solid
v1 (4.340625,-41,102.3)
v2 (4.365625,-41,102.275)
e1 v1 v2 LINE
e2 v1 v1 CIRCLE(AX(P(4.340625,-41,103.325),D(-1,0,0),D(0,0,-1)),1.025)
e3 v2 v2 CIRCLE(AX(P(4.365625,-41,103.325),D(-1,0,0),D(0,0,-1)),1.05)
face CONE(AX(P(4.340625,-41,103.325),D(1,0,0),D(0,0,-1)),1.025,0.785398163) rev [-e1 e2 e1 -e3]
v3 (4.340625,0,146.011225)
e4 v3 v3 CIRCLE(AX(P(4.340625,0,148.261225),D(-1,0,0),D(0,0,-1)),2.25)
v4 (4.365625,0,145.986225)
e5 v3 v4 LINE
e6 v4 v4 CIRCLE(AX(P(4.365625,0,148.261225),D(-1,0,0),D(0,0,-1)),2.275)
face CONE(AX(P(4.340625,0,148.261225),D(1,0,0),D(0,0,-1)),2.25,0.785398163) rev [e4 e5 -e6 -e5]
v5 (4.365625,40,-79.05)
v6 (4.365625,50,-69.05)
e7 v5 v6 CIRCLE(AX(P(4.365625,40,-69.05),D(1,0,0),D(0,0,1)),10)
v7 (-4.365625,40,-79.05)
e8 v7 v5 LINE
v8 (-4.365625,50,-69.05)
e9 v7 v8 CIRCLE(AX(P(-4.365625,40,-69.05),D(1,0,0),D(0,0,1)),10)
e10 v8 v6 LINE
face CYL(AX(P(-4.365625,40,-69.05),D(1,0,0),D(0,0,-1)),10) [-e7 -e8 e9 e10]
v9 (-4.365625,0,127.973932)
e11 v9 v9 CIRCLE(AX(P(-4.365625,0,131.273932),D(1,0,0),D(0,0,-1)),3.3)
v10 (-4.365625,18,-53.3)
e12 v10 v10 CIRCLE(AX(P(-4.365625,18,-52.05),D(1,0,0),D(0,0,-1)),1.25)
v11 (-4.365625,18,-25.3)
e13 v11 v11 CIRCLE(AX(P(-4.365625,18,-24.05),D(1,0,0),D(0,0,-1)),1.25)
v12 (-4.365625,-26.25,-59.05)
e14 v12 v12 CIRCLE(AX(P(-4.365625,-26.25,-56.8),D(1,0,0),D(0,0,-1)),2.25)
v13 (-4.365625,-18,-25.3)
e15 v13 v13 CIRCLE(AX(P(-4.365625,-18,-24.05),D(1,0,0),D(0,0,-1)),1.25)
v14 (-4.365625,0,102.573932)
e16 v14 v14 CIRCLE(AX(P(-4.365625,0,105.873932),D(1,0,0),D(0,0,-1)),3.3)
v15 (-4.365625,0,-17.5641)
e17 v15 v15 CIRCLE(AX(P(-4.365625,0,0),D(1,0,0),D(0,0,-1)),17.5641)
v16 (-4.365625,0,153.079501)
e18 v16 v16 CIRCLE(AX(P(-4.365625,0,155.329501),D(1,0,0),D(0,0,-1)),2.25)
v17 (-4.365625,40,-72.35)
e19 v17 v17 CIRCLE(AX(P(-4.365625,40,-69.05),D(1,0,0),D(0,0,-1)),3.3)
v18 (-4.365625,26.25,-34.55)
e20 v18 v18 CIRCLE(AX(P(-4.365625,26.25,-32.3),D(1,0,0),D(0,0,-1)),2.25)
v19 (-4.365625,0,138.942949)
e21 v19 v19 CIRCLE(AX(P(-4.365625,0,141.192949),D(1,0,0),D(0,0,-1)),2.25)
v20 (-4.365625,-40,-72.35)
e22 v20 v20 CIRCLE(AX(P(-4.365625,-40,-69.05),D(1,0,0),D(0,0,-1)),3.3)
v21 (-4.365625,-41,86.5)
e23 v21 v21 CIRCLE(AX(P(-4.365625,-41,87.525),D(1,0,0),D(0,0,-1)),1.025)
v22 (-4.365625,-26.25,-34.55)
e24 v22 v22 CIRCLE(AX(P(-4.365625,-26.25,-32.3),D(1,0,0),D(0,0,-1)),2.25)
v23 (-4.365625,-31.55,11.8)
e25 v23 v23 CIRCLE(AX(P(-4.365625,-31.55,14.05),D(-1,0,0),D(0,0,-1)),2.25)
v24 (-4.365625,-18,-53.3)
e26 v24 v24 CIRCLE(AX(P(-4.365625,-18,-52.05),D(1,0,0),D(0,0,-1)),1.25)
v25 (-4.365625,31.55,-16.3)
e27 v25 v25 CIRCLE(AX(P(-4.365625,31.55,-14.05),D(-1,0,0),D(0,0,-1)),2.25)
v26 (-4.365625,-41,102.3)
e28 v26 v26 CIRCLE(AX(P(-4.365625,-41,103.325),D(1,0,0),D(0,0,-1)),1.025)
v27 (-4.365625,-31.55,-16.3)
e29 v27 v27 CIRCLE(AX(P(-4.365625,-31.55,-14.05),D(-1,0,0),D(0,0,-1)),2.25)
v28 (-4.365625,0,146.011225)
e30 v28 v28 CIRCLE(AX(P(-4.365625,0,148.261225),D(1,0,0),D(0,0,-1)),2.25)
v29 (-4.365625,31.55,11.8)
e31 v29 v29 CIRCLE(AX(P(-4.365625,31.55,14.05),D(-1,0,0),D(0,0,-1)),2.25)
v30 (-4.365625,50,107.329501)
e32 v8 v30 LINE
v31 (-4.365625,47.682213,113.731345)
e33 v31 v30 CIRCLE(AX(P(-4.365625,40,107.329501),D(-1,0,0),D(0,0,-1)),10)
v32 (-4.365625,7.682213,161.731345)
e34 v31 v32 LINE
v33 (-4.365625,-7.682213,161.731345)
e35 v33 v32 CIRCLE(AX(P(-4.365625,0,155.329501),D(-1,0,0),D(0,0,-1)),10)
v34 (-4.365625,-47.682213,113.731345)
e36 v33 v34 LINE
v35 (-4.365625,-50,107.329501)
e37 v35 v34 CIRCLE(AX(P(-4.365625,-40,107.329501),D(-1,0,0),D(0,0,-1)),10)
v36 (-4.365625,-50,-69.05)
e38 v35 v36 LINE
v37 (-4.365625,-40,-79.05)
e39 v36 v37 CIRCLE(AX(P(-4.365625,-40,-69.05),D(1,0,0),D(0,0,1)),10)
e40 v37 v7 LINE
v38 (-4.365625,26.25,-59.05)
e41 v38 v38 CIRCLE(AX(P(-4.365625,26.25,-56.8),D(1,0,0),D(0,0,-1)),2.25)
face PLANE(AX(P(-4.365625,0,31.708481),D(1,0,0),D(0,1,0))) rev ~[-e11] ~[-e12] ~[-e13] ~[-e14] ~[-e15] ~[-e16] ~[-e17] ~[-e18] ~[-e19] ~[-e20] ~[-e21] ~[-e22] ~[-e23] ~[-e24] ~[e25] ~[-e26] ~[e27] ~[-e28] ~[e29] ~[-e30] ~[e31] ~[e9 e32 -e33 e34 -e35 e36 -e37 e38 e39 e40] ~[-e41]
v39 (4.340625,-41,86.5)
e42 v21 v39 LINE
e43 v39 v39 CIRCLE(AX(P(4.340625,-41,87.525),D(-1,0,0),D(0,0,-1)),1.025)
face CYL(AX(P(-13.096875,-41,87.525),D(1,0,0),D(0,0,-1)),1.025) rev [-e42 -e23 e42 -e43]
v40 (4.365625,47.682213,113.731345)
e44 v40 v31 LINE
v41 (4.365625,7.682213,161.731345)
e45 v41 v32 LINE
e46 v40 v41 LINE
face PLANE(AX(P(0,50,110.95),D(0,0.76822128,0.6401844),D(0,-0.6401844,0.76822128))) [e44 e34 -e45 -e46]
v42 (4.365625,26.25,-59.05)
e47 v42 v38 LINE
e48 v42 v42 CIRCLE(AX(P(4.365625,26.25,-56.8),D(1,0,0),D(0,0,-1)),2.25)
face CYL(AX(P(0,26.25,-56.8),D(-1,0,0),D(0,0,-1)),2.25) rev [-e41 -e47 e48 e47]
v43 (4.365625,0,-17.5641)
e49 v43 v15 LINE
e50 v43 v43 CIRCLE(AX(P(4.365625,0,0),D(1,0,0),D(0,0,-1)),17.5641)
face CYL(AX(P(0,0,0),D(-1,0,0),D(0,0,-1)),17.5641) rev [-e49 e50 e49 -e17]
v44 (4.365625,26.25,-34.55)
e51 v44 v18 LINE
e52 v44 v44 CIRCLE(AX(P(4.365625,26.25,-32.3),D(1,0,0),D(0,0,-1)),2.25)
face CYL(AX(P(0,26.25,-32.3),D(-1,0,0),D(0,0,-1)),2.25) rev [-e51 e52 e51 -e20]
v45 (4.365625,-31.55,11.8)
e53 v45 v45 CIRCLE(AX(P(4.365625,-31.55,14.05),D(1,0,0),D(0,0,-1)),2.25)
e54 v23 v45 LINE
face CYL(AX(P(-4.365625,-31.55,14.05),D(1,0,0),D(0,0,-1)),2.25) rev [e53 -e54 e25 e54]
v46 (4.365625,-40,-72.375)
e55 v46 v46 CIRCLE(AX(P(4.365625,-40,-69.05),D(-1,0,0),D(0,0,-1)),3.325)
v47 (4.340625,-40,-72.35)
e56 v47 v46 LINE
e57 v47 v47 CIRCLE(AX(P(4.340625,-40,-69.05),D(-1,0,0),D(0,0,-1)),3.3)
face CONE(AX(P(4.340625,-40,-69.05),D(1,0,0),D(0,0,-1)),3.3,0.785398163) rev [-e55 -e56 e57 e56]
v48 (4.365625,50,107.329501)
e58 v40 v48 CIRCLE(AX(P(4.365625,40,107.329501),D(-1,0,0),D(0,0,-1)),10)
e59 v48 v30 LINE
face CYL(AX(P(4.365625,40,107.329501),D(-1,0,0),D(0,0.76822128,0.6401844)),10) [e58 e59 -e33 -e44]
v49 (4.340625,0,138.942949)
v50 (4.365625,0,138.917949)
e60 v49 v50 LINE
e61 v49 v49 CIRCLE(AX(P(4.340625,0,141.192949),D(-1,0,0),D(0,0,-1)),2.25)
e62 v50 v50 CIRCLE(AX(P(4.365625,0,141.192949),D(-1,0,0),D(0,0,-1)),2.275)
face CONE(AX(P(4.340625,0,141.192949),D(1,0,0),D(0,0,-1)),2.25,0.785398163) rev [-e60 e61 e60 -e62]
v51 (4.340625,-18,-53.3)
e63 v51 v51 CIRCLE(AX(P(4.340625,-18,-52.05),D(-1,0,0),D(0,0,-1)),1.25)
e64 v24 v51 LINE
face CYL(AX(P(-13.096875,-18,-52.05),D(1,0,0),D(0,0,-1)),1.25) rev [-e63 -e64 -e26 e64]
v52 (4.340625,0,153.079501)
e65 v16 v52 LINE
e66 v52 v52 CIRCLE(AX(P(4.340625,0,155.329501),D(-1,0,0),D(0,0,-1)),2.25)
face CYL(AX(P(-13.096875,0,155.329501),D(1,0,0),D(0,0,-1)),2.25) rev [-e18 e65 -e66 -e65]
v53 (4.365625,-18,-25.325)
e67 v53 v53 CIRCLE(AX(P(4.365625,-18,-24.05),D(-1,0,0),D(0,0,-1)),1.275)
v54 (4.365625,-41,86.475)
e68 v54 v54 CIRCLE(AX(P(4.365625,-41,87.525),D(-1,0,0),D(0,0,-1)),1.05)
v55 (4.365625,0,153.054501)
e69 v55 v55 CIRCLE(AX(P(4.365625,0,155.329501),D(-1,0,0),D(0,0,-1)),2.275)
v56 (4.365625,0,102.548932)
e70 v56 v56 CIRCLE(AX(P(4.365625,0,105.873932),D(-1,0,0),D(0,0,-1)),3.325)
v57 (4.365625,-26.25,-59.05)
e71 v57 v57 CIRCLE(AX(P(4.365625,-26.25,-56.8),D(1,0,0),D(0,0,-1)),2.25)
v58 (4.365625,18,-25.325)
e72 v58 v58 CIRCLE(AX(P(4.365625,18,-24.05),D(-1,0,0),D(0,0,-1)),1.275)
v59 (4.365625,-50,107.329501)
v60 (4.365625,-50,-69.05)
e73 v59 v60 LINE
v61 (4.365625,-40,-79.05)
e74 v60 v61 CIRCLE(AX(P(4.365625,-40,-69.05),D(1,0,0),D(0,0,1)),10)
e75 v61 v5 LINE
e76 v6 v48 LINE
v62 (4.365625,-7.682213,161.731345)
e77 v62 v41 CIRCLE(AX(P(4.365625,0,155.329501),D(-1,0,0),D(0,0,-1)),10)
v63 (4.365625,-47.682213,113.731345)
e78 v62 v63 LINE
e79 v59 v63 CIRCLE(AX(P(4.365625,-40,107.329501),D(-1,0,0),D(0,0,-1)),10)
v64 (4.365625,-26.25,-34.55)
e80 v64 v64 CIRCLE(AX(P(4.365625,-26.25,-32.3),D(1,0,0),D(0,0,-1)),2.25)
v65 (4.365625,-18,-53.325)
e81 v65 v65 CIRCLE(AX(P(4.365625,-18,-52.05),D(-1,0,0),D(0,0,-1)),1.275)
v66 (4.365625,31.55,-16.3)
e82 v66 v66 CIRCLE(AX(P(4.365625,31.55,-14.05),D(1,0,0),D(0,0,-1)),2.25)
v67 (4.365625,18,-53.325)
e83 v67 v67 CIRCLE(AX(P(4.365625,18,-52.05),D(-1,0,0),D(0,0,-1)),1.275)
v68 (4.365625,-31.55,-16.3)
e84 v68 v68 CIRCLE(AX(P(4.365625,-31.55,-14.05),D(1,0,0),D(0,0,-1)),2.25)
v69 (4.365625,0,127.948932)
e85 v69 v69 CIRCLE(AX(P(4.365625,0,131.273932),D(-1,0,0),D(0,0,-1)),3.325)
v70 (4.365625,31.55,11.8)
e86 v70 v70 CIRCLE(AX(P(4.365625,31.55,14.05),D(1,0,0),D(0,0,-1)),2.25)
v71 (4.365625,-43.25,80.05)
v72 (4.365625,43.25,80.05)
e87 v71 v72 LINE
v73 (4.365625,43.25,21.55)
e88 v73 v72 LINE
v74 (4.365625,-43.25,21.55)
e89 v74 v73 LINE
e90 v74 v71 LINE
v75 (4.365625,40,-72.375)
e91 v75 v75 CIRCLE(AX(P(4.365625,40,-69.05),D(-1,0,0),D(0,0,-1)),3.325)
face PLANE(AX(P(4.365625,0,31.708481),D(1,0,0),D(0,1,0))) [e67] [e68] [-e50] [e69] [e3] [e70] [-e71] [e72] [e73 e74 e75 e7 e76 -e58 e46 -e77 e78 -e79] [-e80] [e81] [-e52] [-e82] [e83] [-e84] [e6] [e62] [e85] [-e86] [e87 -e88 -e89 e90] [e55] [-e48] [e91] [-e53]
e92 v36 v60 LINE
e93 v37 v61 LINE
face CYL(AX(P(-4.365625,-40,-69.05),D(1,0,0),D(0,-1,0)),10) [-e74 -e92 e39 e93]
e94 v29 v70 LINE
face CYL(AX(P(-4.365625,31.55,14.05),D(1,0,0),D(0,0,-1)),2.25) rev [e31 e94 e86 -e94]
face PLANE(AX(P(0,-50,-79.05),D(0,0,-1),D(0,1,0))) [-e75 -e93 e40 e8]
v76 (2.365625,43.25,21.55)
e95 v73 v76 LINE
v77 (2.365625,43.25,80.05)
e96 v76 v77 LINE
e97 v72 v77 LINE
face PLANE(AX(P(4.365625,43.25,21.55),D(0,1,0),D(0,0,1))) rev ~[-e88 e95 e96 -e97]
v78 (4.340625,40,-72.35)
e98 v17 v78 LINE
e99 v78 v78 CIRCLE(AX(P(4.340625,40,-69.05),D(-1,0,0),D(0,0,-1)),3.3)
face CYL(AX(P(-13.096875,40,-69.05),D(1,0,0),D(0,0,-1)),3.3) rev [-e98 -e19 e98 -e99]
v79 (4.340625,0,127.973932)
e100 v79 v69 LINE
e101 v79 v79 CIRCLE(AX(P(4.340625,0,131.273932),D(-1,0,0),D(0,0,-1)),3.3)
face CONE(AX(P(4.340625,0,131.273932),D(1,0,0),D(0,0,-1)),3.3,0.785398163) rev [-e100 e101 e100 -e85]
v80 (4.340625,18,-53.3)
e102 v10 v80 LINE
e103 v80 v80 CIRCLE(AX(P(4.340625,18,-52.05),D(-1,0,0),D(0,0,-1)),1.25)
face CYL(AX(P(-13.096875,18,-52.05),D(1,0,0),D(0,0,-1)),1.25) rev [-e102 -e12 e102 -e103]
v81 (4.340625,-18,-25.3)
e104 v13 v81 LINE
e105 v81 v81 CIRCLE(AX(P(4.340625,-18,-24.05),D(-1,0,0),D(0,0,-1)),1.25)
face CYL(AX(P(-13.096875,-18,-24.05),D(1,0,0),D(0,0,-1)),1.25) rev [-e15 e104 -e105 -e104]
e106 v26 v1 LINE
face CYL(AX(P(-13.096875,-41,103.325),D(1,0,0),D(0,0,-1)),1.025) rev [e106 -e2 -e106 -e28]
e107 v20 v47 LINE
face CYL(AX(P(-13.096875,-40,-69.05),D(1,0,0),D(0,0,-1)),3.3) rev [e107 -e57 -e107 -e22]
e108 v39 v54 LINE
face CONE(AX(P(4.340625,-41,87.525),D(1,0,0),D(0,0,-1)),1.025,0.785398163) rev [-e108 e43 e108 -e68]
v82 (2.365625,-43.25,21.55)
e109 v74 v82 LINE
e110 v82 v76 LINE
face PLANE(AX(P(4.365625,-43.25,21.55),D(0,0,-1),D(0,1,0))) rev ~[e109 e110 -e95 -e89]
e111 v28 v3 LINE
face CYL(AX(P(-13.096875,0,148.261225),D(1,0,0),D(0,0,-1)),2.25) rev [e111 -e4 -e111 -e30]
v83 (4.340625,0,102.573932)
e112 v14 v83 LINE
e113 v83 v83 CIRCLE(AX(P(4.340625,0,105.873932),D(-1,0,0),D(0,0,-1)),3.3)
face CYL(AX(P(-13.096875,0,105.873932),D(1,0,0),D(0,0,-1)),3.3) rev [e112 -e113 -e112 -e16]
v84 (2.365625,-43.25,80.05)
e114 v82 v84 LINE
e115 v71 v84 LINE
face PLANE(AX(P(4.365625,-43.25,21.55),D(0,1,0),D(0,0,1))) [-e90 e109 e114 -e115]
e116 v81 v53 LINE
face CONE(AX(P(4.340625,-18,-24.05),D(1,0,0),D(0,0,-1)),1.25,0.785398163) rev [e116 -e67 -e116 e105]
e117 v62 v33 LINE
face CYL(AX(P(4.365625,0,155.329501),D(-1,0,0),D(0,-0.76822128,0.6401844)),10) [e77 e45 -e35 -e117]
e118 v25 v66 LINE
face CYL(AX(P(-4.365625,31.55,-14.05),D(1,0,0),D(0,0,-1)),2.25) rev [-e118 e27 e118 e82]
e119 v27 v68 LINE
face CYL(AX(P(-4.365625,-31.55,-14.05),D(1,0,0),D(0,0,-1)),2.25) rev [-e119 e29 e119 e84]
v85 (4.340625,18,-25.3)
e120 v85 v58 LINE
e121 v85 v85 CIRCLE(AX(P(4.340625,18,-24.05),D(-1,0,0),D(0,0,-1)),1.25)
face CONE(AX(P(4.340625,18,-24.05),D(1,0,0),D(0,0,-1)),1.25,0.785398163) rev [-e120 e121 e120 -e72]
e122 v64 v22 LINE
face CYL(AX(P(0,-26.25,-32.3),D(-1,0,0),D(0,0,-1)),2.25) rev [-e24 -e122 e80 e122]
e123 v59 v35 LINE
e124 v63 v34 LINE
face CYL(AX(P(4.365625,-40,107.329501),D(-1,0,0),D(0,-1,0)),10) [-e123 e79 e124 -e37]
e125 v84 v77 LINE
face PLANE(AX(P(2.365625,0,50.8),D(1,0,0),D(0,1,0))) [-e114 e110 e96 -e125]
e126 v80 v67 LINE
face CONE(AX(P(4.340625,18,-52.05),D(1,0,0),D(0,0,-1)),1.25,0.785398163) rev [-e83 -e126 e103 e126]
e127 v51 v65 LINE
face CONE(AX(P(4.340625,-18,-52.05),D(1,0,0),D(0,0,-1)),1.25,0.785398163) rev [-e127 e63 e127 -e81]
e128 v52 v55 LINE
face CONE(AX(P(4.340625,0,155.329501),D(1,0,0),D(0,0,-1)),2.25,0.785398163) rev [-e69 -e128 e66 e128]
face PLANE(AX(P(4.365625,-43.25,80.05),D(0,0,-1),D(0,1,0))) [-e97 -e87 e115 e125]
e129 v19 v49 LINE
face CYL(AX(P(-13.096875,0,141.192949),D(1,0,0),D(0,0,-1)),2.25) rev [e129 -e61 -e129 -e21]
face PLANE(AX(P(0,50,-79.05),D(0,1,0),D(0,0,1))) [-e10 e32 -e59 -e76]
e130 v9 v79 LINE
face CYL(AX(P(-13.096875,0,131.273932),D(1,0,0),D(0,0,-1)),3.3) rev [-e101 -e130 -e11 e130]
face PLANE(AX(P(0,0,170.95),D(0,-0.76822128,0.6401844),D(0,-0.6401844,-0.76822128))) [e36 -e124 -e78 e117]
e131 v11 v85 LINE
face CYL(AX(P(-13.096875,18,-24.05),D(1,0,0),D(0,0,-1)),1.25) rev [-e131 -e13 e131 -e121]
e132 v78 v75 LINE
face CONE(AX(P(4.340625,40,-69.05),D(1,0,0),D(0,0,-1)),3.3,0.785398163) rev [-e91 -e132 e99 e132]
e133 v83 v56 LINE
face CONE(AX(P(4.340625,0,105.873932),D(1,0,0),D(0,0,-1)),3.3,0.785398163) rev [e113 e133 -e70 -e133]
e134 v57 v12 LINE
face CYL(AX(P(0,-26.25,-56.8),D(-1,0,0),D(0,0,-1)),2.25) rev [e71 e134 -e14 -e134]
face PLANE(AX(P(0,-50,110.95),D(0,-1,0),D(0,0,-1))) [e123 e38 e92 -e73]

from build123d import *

# Parameters (mm, degrees)
SKETCH1_R                               = 2.25
SKETCH1_R_2                             = 17.5641
BOSS_EXTRUDE1_DEPTH                     = 4.365625
SKETCH2_W                               = 78.1
SKETCH2_H                               = 43.1
BOSS_EXTRUDE2_DEPTH                     = 8.73125
M4_CLEARANCE_HOLE2_AT_2_COUNT           = 2
M4_CLEARANCE_HOLE2_AT_2_PITCH           = 28.1
M4_CLEARANCE_HOLE2_AT_3_COUNT           = 2
M4_CLEARANCE_HOLE2_AT_3_PITCH           = 69.07401827
M4_CLEARANCE_HOLE2_AT_4_COUNT           = 2
M4_CLEARANCE_HOLE2_AT_4_PITCH           = 63.1
SKETCH24_W                              = 78.1
SKETCH24_H                              = 43.1
BOSS_EXTRUDE3_DEPTH                     = 8.73125
TAP_DRILL_FOR_M4X0_7_TAP1_AT_2_COUNT    = 2
TAP_DRILL_FOR_M4X0_7_TAP1_AT_2_PITCH    = 28.1
TAP_DRILL_FOR_M4X0_7_TAP1_AT_3_COUNT    = 2
TAP_DRILL_FOR_M4X0_7_TAP1_AT_3_PITCH    = 69.07401827
TAP_DRILL_FOR_M4X0_7_TAP1_AT_4_COUNT    = 2
TAP_DRILL_FOR_M4X0_7_TAP1_AT_4_PITCH    = 63.1
TAP_DRILL_FOR_M3X0_5_TAP1_AT_2_COUNT    = 2
TAP_DRILL_FOR_M3X0_5_TAP1_AT_2_PITCH    = 36
TAP_DRILL_FOR_M3X0_5_TAP1_AT_3_COUNT    = 2
TAP_DRILL_FOR_M3X0_5_TAP1_AT_3_PITCH    = 28
TAP_DRILL_FOR_M3X0_5_TAP1_AT_4_COUNT    = 2
TAP_DRILL_FOR_M3X0_5_TAP1_AT_4_PITCH    = 45.607017004
TAP_DRILL_FOR_M2_5X0_45_TAP2_AT_2_COUNT = 2
TAP_DRILL_FOR_M2_5X0_45_TAP2_AT_2_PITCH = 15.8
SKETCH3_R                               = 17.5641
CUT_EXTRUDE3_DEPTH                      = 181.027817403
M6_CLEARANCE_HOLE2_AT_2_COUNT           = 2
M6_CLEARANCE_HOLE2_AT_2_PITCH           = 80
SKETCH14_W                              = 86.5
SKETCH14_H                              = 58.5
CUT_EXTRUDE4_DEPTH                      = 2
FILLET4_R                               = 10
M4_CLEARANCE_HOLE1_AT_2_COUNT           = 2
M4_CLEARANCE_HOLE1_AT_2_PITCH           = 14.136551913
M4_CLEARANCE_HOLE1_AT_3_COUNT           = 2
M4_CLEARANCE_HOLE1_AT_3_PITCH           = 7.068275957
M6_CLEARANCE_HOLE1_AT_2_COUNT           = 2
M6_CLEARANCE_HOLE1_AT_2_PITCH           = 25.4
FILLET5_R                               = 5
FILLET6_R                               = 5
SKETCH28_W                              = 15.5
SKETCH28_H                              = 20.75
SKETCH28_R                              = 1.5
BOSS_EXTRUDE4_DEPTH                     = 2.5
FILLET7_R                               = 1
SKETCH29_R                              = 1.5
BOSS_EXTRUDE5_DEPTH                     = 1.5
FILLET8_R                               = 0.5


with BuildPart() as part:
    # Sketch1 → Boss-Extrude1 (new, symmetric)
    with BuildSketch(Plane.YZ):
        Polygon((0, 170.95), (-50, 110.95), (-50, -79.05), (50, -79.05), (50, 110.95), align=None)
        with Locations((-26.25, -56.8)):
            Circle(SKETCH1_R, mode=Mode.SUBTRACT)
        with Locations((-26.25, -32.3)):
            Circle(SKETCH1_R, mode=Mode.SUBTRACT)
        with Locations((26.25, -56.8)):
            Circle(SKETCH1_R, mode=Mode.SUBTRACT)
        with Locations((26.25, -32.3)):
            Circle(SKETCH1_R, mode=Mode.SUBTRACT)
        Circle(SKETCH1_R_2, mode=Mode.SUBTRACT)
    extrude(amount=BOSS_EXTRUDE1_DEPTH, both=True)


with BuildPart() as body_2:
    # Sketch2 → Boss-Extrude2 (new body)
    with BuildSketch(Plane.YZ.offset(4.365625)):
        Rectangle(SKETCH2_W, SKETCH2_H)
    extrude(amount=BOSS_EXTRUDE2_DEPTH)


with BuildPart() as m4_clearance_hole2_tool:
    # Sketch23 → M4 Clearance Hole2 (revolve)
    with BuildSketch(Plane(origin=(13.096875, -31.55, 14.05), x_dir=(0, 0, -1), z_dir=(0, 1, 0))):
        Polygon((0, 0), (0, 17.4625), (2.25, 17.4625), (2.25, 0.025), (2.275, 0), align=None)
    m4_clearance_hole2 = revolve(axis=Axis((19.446875, -31.55, 14.05), (-1, 0, 0)))


with BuildPart() as part_1:
    add(part.part)

    # M4 Clearance Hole2: cut by m4_clearance_hole2_tool
    add(m4_clearance_hole2_tool.part, mode=Mode.SUBTRACT)


with BuildPart() as body_2_1:
    add(body_2.part)

    # M4 Clearance Hole2: cut by m4_clearance_hole2_tool
    add(m4_clearance_hole2_tool.part, mode=Mode.SUBTRACT)


with BuildPart() as m4_clearance_hole2_at_2_tool:
    # M4 Clearance Hole2 at 2: M4 Clearance Hole2 ×2
    with Locations(*[(0, 0, -i * M4_CLEARANCE_HOLE2_AT_2_PITCH) for i in range(1, M4_CLEARANCE_HOLE2_AT_2_COUNT)]):
        add(m4_clearance_hole2)


with BuildPart() as part_2:
    add(part_1.part)

    # M4 Clearance Hole2 at 2: cut by m4_clearance_hole2_at_2_tool
    add(m4_clearance_hole2_at_2_tool.part, mode=Mode.SUBTRACT)


with BuildPart() as body_2_2:
    add(body_2_1.part)

    # M4 Clearance Hole2 at 2: cut by m4_clearance_hole2_at_2_tool
    add(m4_clearance_hole2_at_2_tool.part, mode=Mode.SUBTRACT)


with BuildPart() as m4_clearance_hole2_at_3_tool:
    # M4 Clearance Hole2 at 3: M4 Clearance Hole2 ×2
    with Locations(*[Vector(0, 0.9135128023552276, -0.40680998012966574) * (i * M4_CLEARANCE_HOLE2_AT_3_PITCH) for i in range(1, M4_CLEARANCE_HOLE2_AT_3_COUNT)]):
        add(m4_clearance_hole2)


with BuildPart() as part_3:
    add(part_2.part)

    # M4 Clearance Hole2 at 3: cut by m4_clearance_hole2_at_3_tool
    add(m4_clearance_hole2_at_3_tool.part, mode=Mode.SUBTRACT)


with BuildPart() as body_2_3:
    add(body_2_2.part)

    # M4 Clearance Hole2 at 3: cut by m4_clearance_hole2_at_3_tool
    add(m4_clearance_hole2_at_3_tool.part, mode=Mode.SUBTRACT)


with BuildPart() as m4_clearance_hole2_at_4_tool:
    # M4 Clearance Hole2 at 4: M4 Clearance Hole2 ×2
    with Locations(*[(0, i * M4_CLEARANCE_HOLE2_AT_4_PITCH, 0) for i in range(1, M4_CLEARANCE_HOLE2_AT_4_COUNT)]):
        add(m4_clearance_hole2)


with BuildPart() as part_4:
    add(part_3.part)

    # M4 Clearance Hole2 at 4: cut by m4_clearance_hole2_at_4_tool
    add(m4_clearance_hole2_at_4_tool.part, mode=Mode.SUBTRACT)

    # Sketch7 → Tap Drill for M3x0.5 Tap1 (revolve, cut)
    with BuildSketch(Plane(origin=(4.365625, -18, -24.05), x_dir=(0, 0, -1), z_dir=(0, 1, 0))):
        Polygon((0, 0), (0, 17.4625), (1.25, 17.4625), (1.25, 0.025), (1.275, 0), align=None)
    tap_drill_for_m3x0_5_tap1 = revolve(axis=Axis((10.715625, -18, -24.05), (-1, 0, 0)), mode=Mode.SUBTRACT)

    # Tap Drill for M3x0.5 Tap1 at 2: Tap Drill for M3x0.5 Tap1 ×2
    with Locations(*[(0, i * TAP_DRILL_FOR_M3X0_5_TAP1_AT_2_PITCH, 0) for i in range(1, TAP_DRILL_FOR_M3X0_5_TAP1_AT_2_COUNT)]):
        add(tap_drill_for_m3x0_5_tap1, mode=Mode.SUBTRACT)

    # Tap Drill for M3x0.5 Tap1 at 3: Tap Drill for M3x0.5 Tap1 ×2
    with Locations(*[(0, 0, -i * TAP_DRILL_FOR_M3X0_5_TAP1_AT_3_PITCH) for i in range(1, TAP_DRILL_FOR_M3X0_5_TAP1_AT_3_COUNT)]):
        add(tap_drill_for_m3x0_5_tap1, mode=Mode.SUBTRACT)

    # Tap Drill for M3x0.5 Tap1 at 4: Tap Drill for M3x0.5 Tap1 ×2
    with Locations(*[Vector(0, 0.7893522173763264, -0.6139406135149205) * (i * TAP_DRILL_FOR_M3X0_5_TAP1_AT_4_PITCH) for i in range(1, TAP_DRILL_FOR_M3X0_5_TAP1_AT_4_COUNT)]):
        add(tap_drill_for_m3x0_5_tap1, mode=Mode.SUBTRACT)

    # Sketch10 → Tap Drill for M2.5x0.45 Tap2 (revolve, cut)
    with BuildSketch(Plane(origin=(4.365625, -41, 103.325), x_dir=(0, 0, -1), z_dir=(0, 1, 0))):
        Polygon((0, 0), (0, 17.4625), (1.025, 17.4625), (1.025, 0.025), (1.05, 0), align=None)
    tap_drill_for_m2_5x0_45_tap2 = revolve(axis=Axis((10.715625, -41, 103.325), (-1, 0, 0)), mode=Mode.SUBTRACT)

    # Tap Drill for M2.5x0.45 Tap2 at 2: Tap Drill for M2.5x0.45 Tap2 ×2
    with Locations(*[(0, 0, -i * TAP_DRILL_FOR_M2_5X0_45_TAP2_AT_2_PITCH) for i in range(1, TAP_DRILL_FOR_M2_5X0_45_TAP2_AT_2_COUNT)]):
        add(tap_drill_for_m2_5x0_45_tap2, mode=Mode.SUBTRACT)

    # Sketch12 → M6 Clearance Hole2 (revolve, cut)
    with BuildSketch(Plane(origin=(4.365625, -40, -69.05), x_dir=(0, 0, -1), z_dir=(0, 1, 0))):
        Polygon((0, 0), (0, 17.4625), (3.3, 17.4625), (3.3, 0.025), (3.325, 0), align=None)
    m6_clearance_hole2 = revolve(axis=Axis((10.715625, -40, -69.05), (-1, 0, 0)), mode=Mode.SUBTRACT)

    # M6 Clearance Hole2 at 2: M6 Clearance Hole2 ×2
    with Locations(*[(0, i * M6_CLEARANCE_HOLE2_AT_2_PITCH, 0) for i in range(1, M6_CLEARANCE_HOLE2_AT_2_COUNT)]):
        add(m6_clearance_hole2, mode=Mode.SUBTRACT)

    # Sketch14 → Cut-Extrude4 (cut)
    with BuildSketch(Plane.YZ.offset(4.365625)):
        with Locations((0, 50.8)):
            Rectangle(SKETCH14_W, SKETCH14_H)
    extrude(amount=-CUT_EXTRUDE4_DEPTH, mode=Mode.SUBTRACT)

    # Fillet4
    fillet4_edges = [part_4.edges().sort_by_distance(p)[0] for p in [
        (0, 50, -79.05),
        (0, -50, -79.05),
        (0, 50, 110.95),
        (0, 0, 170.95),
        (0, -50, 110.95),
    ]]
    fillet(fillet4_edges, radius=FILLET4_R)

    # Sketch16 → M4 Clearance Hole1 (revolve, cut)
    with BuildSketch(Plane(origin=(4.365625, 0, 155.329500648), x_dir=(0, 0, -1), z_dir=(0, 1, 0))):
        Polygon((0, 0), (0, 17.4625), (2.25, 17.4625), (2.25, 0.025), (2.275, 0), align=None)
    m4_clearance_hole1 = revolve(axis=Axis((10.715625, 0, 155.329500648), (-1, 0, 0)), mode=Mode.SUBTRACT)

    # M4 Clearance Hole1 at 2: M4 Clearance Hole1 ×2
    with Locations(*[(0, 0, -i * M4_CLEARANCE_HOLE1_AT_2_PITCH) for i in range(1, M4_CLEARANCE_HOLE1_AT_2_COUNT)]):
        add(m4_clearance_hole1, mode=Mode.SUBTRACT)

    # M4 Clearance Hole1 at 3: M4 Clearance Hole1 ×2
    with Locations(*[(0, 0, -i * M4_CLEARANCE_HOLE1_AT_3_PITCH) for i in range(1, M4_CLEARANCE_HOLE1_AT_3_COUNT)]):
        add(m4_clearance_hole1, mode=Mode.SUBTRACT)

    # Sketch21 → M6 Clearance Hole1 (revolve, cut)
    with BuildSketch(Plane(origin=(4.365625, 0, 131.273931646), x_dir=(0, 0, -1), z_dir=(0, 1, 0))):
        Polygon((0, 0), (0, 17.4625), (3.3, 17.4625), (3.3, 0.025), (3.325, 0), align=None)
    m6_clearance_hole1 = revolve(axis=Axis((10.715625, 0, 131.273931646), (-1, 0, 0)), mode=Mode.SUBTRACT)

    # M6 Clearance Hole1 at 2: M6 Clearance Hole1 ×2
    with Locations(*[(0, 0, -i * M6_CLEARANCE_HOLE1_AT_2_PITCH) for i in range(1, M6_CLEARANCE_HOLE1_AT_2_COUNT)]):
        add(m6_clearance_hole1, mode=Mode.SUBTRACT)


with BuildPart() as body_2_4:
    add(body_2_3.part)

    # M4 Clearance Hole2 at 4: cut by m4_clearance_hole2_at_4_tool
    add(m4_clearance_hole2_at_4_tool.part, mode=Mode.SUBTRACT)


with BuildPart() as body_3:
    # Sketch24 → Boss-Extrude3 (new body)
    with BuildSketch(Plane(origin=(-4.365625, 0, 0), x_dir=(0, -1, 0), z_dir=(-1, 0, 0))):
        Rectangle(SKETCH24_W, SKETCH24_H)
    extrude(amount=BOSS_EXTRUDE3_DEPTH)

    # Sketch27 → Tap Drill for M4x0.7 Tap1 (revolve, cut)
    with BuildSketch(Plane(origin=(-13.096875, 31.55, 14.05), x_dir=(0, 0, 1), z_dir=(0, 1, 0))):
        Polygon((0, 0), (0, 9.722670021), (1.65, 8.73125), (1.65, 0.025), (1.675, 0), align=None)
    tap_drill_for_m4x0_7_tap1 = revolve(axis=Axis((-19.446875, 31.55, 14.05), (1, 0, 0)), mode=Mode.SUBTRACT)

    # Tap Drill for M4x0.7 Tap1 at 2: Tap Drill for M4x0.7 Tap1 ×2
    with Locations(*[(0, 0, -i * TAP_DRILL_FOR_M4X0_7_TAP1_AT_2_PITCH) for i in range(1, TAP_DRILL_FOR_M4X0_7_TAP1_AT_2_COUNT)]):
        add(tap_drill_for_m4x0_7_tap1, mode=Mode.SUBTRACT)

    # Tap Drill for M4x0.7 Tap1 at 3: Tap Drill for M4x0.7 Tap1 ×2
    with Locations(*[Vector(0, -0.9135128023552276, -0.40680998012966574) * (i * TAP_DRILL_FOR_M4X0_7_TAP1_AT_3_PITCH) for i in range(1, TAP_DRILL_FOR_M4X0_7_TAP1_AT_3_COUNT)]):
        add(tap_drill_for_m4x0_7_tap1, mode=Mode.SUBTRACT)

    # Tap Drill for M4x0.7 Tap1 at 4: Tap Drill for M4x0.7 Tap1 ×2
    with Locations(*[(0, -i * TAP_DRILL_FOR_M4X0_7_TAP1_AT_4_PITCH, 0) for i in range(1, TAP_DRILL_FOR_M4X0_7_TAP1_AT_4_COUNT)]):
        add(tap_drill_for_m4x0_7_tap1, mode=Mode.SUBTRACT)


with BuildPart() as cut_extrude3_tool:
    # Sketch3 → Cut-Extrude3 (new, through all)
    with BuildSketch(Plane.YZ.offset(13.096875)):
        Circle(SKETCH3_R)
    extrude(amount=-CUT_EXTRUDE3_DEPTH)


with BuildPart() as body_2_5:
    add(body_2_4.part)

    # Cut-Extrude3: cut by cut_extrude3_tool
    add(cut_extrude3_tool.part, mode=Mode.SUBTRACT)

    # Fillet6
    fillet6_edges = [body_2_5.edges().sort_by_distance(p)[0] for p in [
        (8.73125, -39.05, 21.55),
        (8.73125, 39.05, -21.55),
        (8.73125, -39.05, -21.55),
        (8.73125, 39.05, 21.55),
    ]]
    fillet(fillet6_edges, radius=FILLET6_R)


with BuildPart() as body_3_1:
    add(body_3.part)

    # Cut-Extrude3: cut by cut_extrude3_tool
    add(cut_extrude3_tool.part, mode=Mode.SUBTRACT)

    # Fillet5
    fillet5_edges = [body_3_1.edges().sort_by_distance(p)[0] for p in [
        (-8.73125, -39.05, 21.55),
        (-8.73125, -39.05, -21.55),
        (-8.73125, 39.05, -21.55),
        (-8.73125, 39.05, 21.55),
    ]]
    fillet(fillet5_edges, radius=FILLET5_R)


with BuildPart() as body_4:
    # Sketch28 → Boss-Extrude4 (new body)
    with BuildSketch(Plane.YZ.offset(4.365625)):
        with Locations((-46.275, 95.425)):
            Rectangle(SKETCH28_W, SKETCH28_H)
        with Locations((-41, 87.525)):
            Circle(SKETCH28_R, mode=Mode.SUBTRACT)
        with Locations((-41, 103.325)):
            Circle(SKETCH28_R, mode=Mode.SUBTRACT)
    extrude(amount=BOSS_EXTRUDE4_DEPTH)

    # Fillet7
    fillet7_edges = [body_4.edges().sort_by_distance(p)[0] for p in [
        (5.615625, -38.525, 105.8),
        (5.615625, -38.525, 85.05),
        (5.615625, -54.025, 85.05),
        (5.615625, -54.025, 105.8),
    ]]
    fillet(fillet7_edges, radius=FILLET7_R)

    # Sketch29 → Boss-Extrude5 (add)
    with BuildSketch(Plane(origin=(4.365625, 0, 0), x_dir=(0, -1, 0), z_dir=(-1, 0, 0))):
        with Locations((52.025, 104.175)):
            Circle(SKETCH29_R)
        with Locations((52.025, 100.675)):
            Circle(SKETCH29_R)
        with Locations((52.025, 97.175)):
            Circle(SKETCH29_R)
        with Locations((52.025, 93.675)):
            Circle(SKETCH29_R)
        with Locations((52.025, 90.175)):
            Circle(SKETCH29_R)
        with Locations((52.025, 86.675)):
            Circle(SKETCH29_R)
    extrude(amount=BOSS_EXTRUDE5_DEPTH)

    # Fillet8
    fillet8_edges = [body_4.edges().sort_by_distance(p)[0] for p in [
        (2.865625, -50.525, 86.675),
        (2.865625, -50.525, 90.175),
        (2.865625, -50.525, 93.675),
        (2.865625, -50.525, 97.175),
        (2.865625, -50.525, 100.675),
        (2.865625, -50.525, 104.175),
    ]]
    fillet(fillet8_edges, radius=FILLET8_R)


solid = part_4.part
